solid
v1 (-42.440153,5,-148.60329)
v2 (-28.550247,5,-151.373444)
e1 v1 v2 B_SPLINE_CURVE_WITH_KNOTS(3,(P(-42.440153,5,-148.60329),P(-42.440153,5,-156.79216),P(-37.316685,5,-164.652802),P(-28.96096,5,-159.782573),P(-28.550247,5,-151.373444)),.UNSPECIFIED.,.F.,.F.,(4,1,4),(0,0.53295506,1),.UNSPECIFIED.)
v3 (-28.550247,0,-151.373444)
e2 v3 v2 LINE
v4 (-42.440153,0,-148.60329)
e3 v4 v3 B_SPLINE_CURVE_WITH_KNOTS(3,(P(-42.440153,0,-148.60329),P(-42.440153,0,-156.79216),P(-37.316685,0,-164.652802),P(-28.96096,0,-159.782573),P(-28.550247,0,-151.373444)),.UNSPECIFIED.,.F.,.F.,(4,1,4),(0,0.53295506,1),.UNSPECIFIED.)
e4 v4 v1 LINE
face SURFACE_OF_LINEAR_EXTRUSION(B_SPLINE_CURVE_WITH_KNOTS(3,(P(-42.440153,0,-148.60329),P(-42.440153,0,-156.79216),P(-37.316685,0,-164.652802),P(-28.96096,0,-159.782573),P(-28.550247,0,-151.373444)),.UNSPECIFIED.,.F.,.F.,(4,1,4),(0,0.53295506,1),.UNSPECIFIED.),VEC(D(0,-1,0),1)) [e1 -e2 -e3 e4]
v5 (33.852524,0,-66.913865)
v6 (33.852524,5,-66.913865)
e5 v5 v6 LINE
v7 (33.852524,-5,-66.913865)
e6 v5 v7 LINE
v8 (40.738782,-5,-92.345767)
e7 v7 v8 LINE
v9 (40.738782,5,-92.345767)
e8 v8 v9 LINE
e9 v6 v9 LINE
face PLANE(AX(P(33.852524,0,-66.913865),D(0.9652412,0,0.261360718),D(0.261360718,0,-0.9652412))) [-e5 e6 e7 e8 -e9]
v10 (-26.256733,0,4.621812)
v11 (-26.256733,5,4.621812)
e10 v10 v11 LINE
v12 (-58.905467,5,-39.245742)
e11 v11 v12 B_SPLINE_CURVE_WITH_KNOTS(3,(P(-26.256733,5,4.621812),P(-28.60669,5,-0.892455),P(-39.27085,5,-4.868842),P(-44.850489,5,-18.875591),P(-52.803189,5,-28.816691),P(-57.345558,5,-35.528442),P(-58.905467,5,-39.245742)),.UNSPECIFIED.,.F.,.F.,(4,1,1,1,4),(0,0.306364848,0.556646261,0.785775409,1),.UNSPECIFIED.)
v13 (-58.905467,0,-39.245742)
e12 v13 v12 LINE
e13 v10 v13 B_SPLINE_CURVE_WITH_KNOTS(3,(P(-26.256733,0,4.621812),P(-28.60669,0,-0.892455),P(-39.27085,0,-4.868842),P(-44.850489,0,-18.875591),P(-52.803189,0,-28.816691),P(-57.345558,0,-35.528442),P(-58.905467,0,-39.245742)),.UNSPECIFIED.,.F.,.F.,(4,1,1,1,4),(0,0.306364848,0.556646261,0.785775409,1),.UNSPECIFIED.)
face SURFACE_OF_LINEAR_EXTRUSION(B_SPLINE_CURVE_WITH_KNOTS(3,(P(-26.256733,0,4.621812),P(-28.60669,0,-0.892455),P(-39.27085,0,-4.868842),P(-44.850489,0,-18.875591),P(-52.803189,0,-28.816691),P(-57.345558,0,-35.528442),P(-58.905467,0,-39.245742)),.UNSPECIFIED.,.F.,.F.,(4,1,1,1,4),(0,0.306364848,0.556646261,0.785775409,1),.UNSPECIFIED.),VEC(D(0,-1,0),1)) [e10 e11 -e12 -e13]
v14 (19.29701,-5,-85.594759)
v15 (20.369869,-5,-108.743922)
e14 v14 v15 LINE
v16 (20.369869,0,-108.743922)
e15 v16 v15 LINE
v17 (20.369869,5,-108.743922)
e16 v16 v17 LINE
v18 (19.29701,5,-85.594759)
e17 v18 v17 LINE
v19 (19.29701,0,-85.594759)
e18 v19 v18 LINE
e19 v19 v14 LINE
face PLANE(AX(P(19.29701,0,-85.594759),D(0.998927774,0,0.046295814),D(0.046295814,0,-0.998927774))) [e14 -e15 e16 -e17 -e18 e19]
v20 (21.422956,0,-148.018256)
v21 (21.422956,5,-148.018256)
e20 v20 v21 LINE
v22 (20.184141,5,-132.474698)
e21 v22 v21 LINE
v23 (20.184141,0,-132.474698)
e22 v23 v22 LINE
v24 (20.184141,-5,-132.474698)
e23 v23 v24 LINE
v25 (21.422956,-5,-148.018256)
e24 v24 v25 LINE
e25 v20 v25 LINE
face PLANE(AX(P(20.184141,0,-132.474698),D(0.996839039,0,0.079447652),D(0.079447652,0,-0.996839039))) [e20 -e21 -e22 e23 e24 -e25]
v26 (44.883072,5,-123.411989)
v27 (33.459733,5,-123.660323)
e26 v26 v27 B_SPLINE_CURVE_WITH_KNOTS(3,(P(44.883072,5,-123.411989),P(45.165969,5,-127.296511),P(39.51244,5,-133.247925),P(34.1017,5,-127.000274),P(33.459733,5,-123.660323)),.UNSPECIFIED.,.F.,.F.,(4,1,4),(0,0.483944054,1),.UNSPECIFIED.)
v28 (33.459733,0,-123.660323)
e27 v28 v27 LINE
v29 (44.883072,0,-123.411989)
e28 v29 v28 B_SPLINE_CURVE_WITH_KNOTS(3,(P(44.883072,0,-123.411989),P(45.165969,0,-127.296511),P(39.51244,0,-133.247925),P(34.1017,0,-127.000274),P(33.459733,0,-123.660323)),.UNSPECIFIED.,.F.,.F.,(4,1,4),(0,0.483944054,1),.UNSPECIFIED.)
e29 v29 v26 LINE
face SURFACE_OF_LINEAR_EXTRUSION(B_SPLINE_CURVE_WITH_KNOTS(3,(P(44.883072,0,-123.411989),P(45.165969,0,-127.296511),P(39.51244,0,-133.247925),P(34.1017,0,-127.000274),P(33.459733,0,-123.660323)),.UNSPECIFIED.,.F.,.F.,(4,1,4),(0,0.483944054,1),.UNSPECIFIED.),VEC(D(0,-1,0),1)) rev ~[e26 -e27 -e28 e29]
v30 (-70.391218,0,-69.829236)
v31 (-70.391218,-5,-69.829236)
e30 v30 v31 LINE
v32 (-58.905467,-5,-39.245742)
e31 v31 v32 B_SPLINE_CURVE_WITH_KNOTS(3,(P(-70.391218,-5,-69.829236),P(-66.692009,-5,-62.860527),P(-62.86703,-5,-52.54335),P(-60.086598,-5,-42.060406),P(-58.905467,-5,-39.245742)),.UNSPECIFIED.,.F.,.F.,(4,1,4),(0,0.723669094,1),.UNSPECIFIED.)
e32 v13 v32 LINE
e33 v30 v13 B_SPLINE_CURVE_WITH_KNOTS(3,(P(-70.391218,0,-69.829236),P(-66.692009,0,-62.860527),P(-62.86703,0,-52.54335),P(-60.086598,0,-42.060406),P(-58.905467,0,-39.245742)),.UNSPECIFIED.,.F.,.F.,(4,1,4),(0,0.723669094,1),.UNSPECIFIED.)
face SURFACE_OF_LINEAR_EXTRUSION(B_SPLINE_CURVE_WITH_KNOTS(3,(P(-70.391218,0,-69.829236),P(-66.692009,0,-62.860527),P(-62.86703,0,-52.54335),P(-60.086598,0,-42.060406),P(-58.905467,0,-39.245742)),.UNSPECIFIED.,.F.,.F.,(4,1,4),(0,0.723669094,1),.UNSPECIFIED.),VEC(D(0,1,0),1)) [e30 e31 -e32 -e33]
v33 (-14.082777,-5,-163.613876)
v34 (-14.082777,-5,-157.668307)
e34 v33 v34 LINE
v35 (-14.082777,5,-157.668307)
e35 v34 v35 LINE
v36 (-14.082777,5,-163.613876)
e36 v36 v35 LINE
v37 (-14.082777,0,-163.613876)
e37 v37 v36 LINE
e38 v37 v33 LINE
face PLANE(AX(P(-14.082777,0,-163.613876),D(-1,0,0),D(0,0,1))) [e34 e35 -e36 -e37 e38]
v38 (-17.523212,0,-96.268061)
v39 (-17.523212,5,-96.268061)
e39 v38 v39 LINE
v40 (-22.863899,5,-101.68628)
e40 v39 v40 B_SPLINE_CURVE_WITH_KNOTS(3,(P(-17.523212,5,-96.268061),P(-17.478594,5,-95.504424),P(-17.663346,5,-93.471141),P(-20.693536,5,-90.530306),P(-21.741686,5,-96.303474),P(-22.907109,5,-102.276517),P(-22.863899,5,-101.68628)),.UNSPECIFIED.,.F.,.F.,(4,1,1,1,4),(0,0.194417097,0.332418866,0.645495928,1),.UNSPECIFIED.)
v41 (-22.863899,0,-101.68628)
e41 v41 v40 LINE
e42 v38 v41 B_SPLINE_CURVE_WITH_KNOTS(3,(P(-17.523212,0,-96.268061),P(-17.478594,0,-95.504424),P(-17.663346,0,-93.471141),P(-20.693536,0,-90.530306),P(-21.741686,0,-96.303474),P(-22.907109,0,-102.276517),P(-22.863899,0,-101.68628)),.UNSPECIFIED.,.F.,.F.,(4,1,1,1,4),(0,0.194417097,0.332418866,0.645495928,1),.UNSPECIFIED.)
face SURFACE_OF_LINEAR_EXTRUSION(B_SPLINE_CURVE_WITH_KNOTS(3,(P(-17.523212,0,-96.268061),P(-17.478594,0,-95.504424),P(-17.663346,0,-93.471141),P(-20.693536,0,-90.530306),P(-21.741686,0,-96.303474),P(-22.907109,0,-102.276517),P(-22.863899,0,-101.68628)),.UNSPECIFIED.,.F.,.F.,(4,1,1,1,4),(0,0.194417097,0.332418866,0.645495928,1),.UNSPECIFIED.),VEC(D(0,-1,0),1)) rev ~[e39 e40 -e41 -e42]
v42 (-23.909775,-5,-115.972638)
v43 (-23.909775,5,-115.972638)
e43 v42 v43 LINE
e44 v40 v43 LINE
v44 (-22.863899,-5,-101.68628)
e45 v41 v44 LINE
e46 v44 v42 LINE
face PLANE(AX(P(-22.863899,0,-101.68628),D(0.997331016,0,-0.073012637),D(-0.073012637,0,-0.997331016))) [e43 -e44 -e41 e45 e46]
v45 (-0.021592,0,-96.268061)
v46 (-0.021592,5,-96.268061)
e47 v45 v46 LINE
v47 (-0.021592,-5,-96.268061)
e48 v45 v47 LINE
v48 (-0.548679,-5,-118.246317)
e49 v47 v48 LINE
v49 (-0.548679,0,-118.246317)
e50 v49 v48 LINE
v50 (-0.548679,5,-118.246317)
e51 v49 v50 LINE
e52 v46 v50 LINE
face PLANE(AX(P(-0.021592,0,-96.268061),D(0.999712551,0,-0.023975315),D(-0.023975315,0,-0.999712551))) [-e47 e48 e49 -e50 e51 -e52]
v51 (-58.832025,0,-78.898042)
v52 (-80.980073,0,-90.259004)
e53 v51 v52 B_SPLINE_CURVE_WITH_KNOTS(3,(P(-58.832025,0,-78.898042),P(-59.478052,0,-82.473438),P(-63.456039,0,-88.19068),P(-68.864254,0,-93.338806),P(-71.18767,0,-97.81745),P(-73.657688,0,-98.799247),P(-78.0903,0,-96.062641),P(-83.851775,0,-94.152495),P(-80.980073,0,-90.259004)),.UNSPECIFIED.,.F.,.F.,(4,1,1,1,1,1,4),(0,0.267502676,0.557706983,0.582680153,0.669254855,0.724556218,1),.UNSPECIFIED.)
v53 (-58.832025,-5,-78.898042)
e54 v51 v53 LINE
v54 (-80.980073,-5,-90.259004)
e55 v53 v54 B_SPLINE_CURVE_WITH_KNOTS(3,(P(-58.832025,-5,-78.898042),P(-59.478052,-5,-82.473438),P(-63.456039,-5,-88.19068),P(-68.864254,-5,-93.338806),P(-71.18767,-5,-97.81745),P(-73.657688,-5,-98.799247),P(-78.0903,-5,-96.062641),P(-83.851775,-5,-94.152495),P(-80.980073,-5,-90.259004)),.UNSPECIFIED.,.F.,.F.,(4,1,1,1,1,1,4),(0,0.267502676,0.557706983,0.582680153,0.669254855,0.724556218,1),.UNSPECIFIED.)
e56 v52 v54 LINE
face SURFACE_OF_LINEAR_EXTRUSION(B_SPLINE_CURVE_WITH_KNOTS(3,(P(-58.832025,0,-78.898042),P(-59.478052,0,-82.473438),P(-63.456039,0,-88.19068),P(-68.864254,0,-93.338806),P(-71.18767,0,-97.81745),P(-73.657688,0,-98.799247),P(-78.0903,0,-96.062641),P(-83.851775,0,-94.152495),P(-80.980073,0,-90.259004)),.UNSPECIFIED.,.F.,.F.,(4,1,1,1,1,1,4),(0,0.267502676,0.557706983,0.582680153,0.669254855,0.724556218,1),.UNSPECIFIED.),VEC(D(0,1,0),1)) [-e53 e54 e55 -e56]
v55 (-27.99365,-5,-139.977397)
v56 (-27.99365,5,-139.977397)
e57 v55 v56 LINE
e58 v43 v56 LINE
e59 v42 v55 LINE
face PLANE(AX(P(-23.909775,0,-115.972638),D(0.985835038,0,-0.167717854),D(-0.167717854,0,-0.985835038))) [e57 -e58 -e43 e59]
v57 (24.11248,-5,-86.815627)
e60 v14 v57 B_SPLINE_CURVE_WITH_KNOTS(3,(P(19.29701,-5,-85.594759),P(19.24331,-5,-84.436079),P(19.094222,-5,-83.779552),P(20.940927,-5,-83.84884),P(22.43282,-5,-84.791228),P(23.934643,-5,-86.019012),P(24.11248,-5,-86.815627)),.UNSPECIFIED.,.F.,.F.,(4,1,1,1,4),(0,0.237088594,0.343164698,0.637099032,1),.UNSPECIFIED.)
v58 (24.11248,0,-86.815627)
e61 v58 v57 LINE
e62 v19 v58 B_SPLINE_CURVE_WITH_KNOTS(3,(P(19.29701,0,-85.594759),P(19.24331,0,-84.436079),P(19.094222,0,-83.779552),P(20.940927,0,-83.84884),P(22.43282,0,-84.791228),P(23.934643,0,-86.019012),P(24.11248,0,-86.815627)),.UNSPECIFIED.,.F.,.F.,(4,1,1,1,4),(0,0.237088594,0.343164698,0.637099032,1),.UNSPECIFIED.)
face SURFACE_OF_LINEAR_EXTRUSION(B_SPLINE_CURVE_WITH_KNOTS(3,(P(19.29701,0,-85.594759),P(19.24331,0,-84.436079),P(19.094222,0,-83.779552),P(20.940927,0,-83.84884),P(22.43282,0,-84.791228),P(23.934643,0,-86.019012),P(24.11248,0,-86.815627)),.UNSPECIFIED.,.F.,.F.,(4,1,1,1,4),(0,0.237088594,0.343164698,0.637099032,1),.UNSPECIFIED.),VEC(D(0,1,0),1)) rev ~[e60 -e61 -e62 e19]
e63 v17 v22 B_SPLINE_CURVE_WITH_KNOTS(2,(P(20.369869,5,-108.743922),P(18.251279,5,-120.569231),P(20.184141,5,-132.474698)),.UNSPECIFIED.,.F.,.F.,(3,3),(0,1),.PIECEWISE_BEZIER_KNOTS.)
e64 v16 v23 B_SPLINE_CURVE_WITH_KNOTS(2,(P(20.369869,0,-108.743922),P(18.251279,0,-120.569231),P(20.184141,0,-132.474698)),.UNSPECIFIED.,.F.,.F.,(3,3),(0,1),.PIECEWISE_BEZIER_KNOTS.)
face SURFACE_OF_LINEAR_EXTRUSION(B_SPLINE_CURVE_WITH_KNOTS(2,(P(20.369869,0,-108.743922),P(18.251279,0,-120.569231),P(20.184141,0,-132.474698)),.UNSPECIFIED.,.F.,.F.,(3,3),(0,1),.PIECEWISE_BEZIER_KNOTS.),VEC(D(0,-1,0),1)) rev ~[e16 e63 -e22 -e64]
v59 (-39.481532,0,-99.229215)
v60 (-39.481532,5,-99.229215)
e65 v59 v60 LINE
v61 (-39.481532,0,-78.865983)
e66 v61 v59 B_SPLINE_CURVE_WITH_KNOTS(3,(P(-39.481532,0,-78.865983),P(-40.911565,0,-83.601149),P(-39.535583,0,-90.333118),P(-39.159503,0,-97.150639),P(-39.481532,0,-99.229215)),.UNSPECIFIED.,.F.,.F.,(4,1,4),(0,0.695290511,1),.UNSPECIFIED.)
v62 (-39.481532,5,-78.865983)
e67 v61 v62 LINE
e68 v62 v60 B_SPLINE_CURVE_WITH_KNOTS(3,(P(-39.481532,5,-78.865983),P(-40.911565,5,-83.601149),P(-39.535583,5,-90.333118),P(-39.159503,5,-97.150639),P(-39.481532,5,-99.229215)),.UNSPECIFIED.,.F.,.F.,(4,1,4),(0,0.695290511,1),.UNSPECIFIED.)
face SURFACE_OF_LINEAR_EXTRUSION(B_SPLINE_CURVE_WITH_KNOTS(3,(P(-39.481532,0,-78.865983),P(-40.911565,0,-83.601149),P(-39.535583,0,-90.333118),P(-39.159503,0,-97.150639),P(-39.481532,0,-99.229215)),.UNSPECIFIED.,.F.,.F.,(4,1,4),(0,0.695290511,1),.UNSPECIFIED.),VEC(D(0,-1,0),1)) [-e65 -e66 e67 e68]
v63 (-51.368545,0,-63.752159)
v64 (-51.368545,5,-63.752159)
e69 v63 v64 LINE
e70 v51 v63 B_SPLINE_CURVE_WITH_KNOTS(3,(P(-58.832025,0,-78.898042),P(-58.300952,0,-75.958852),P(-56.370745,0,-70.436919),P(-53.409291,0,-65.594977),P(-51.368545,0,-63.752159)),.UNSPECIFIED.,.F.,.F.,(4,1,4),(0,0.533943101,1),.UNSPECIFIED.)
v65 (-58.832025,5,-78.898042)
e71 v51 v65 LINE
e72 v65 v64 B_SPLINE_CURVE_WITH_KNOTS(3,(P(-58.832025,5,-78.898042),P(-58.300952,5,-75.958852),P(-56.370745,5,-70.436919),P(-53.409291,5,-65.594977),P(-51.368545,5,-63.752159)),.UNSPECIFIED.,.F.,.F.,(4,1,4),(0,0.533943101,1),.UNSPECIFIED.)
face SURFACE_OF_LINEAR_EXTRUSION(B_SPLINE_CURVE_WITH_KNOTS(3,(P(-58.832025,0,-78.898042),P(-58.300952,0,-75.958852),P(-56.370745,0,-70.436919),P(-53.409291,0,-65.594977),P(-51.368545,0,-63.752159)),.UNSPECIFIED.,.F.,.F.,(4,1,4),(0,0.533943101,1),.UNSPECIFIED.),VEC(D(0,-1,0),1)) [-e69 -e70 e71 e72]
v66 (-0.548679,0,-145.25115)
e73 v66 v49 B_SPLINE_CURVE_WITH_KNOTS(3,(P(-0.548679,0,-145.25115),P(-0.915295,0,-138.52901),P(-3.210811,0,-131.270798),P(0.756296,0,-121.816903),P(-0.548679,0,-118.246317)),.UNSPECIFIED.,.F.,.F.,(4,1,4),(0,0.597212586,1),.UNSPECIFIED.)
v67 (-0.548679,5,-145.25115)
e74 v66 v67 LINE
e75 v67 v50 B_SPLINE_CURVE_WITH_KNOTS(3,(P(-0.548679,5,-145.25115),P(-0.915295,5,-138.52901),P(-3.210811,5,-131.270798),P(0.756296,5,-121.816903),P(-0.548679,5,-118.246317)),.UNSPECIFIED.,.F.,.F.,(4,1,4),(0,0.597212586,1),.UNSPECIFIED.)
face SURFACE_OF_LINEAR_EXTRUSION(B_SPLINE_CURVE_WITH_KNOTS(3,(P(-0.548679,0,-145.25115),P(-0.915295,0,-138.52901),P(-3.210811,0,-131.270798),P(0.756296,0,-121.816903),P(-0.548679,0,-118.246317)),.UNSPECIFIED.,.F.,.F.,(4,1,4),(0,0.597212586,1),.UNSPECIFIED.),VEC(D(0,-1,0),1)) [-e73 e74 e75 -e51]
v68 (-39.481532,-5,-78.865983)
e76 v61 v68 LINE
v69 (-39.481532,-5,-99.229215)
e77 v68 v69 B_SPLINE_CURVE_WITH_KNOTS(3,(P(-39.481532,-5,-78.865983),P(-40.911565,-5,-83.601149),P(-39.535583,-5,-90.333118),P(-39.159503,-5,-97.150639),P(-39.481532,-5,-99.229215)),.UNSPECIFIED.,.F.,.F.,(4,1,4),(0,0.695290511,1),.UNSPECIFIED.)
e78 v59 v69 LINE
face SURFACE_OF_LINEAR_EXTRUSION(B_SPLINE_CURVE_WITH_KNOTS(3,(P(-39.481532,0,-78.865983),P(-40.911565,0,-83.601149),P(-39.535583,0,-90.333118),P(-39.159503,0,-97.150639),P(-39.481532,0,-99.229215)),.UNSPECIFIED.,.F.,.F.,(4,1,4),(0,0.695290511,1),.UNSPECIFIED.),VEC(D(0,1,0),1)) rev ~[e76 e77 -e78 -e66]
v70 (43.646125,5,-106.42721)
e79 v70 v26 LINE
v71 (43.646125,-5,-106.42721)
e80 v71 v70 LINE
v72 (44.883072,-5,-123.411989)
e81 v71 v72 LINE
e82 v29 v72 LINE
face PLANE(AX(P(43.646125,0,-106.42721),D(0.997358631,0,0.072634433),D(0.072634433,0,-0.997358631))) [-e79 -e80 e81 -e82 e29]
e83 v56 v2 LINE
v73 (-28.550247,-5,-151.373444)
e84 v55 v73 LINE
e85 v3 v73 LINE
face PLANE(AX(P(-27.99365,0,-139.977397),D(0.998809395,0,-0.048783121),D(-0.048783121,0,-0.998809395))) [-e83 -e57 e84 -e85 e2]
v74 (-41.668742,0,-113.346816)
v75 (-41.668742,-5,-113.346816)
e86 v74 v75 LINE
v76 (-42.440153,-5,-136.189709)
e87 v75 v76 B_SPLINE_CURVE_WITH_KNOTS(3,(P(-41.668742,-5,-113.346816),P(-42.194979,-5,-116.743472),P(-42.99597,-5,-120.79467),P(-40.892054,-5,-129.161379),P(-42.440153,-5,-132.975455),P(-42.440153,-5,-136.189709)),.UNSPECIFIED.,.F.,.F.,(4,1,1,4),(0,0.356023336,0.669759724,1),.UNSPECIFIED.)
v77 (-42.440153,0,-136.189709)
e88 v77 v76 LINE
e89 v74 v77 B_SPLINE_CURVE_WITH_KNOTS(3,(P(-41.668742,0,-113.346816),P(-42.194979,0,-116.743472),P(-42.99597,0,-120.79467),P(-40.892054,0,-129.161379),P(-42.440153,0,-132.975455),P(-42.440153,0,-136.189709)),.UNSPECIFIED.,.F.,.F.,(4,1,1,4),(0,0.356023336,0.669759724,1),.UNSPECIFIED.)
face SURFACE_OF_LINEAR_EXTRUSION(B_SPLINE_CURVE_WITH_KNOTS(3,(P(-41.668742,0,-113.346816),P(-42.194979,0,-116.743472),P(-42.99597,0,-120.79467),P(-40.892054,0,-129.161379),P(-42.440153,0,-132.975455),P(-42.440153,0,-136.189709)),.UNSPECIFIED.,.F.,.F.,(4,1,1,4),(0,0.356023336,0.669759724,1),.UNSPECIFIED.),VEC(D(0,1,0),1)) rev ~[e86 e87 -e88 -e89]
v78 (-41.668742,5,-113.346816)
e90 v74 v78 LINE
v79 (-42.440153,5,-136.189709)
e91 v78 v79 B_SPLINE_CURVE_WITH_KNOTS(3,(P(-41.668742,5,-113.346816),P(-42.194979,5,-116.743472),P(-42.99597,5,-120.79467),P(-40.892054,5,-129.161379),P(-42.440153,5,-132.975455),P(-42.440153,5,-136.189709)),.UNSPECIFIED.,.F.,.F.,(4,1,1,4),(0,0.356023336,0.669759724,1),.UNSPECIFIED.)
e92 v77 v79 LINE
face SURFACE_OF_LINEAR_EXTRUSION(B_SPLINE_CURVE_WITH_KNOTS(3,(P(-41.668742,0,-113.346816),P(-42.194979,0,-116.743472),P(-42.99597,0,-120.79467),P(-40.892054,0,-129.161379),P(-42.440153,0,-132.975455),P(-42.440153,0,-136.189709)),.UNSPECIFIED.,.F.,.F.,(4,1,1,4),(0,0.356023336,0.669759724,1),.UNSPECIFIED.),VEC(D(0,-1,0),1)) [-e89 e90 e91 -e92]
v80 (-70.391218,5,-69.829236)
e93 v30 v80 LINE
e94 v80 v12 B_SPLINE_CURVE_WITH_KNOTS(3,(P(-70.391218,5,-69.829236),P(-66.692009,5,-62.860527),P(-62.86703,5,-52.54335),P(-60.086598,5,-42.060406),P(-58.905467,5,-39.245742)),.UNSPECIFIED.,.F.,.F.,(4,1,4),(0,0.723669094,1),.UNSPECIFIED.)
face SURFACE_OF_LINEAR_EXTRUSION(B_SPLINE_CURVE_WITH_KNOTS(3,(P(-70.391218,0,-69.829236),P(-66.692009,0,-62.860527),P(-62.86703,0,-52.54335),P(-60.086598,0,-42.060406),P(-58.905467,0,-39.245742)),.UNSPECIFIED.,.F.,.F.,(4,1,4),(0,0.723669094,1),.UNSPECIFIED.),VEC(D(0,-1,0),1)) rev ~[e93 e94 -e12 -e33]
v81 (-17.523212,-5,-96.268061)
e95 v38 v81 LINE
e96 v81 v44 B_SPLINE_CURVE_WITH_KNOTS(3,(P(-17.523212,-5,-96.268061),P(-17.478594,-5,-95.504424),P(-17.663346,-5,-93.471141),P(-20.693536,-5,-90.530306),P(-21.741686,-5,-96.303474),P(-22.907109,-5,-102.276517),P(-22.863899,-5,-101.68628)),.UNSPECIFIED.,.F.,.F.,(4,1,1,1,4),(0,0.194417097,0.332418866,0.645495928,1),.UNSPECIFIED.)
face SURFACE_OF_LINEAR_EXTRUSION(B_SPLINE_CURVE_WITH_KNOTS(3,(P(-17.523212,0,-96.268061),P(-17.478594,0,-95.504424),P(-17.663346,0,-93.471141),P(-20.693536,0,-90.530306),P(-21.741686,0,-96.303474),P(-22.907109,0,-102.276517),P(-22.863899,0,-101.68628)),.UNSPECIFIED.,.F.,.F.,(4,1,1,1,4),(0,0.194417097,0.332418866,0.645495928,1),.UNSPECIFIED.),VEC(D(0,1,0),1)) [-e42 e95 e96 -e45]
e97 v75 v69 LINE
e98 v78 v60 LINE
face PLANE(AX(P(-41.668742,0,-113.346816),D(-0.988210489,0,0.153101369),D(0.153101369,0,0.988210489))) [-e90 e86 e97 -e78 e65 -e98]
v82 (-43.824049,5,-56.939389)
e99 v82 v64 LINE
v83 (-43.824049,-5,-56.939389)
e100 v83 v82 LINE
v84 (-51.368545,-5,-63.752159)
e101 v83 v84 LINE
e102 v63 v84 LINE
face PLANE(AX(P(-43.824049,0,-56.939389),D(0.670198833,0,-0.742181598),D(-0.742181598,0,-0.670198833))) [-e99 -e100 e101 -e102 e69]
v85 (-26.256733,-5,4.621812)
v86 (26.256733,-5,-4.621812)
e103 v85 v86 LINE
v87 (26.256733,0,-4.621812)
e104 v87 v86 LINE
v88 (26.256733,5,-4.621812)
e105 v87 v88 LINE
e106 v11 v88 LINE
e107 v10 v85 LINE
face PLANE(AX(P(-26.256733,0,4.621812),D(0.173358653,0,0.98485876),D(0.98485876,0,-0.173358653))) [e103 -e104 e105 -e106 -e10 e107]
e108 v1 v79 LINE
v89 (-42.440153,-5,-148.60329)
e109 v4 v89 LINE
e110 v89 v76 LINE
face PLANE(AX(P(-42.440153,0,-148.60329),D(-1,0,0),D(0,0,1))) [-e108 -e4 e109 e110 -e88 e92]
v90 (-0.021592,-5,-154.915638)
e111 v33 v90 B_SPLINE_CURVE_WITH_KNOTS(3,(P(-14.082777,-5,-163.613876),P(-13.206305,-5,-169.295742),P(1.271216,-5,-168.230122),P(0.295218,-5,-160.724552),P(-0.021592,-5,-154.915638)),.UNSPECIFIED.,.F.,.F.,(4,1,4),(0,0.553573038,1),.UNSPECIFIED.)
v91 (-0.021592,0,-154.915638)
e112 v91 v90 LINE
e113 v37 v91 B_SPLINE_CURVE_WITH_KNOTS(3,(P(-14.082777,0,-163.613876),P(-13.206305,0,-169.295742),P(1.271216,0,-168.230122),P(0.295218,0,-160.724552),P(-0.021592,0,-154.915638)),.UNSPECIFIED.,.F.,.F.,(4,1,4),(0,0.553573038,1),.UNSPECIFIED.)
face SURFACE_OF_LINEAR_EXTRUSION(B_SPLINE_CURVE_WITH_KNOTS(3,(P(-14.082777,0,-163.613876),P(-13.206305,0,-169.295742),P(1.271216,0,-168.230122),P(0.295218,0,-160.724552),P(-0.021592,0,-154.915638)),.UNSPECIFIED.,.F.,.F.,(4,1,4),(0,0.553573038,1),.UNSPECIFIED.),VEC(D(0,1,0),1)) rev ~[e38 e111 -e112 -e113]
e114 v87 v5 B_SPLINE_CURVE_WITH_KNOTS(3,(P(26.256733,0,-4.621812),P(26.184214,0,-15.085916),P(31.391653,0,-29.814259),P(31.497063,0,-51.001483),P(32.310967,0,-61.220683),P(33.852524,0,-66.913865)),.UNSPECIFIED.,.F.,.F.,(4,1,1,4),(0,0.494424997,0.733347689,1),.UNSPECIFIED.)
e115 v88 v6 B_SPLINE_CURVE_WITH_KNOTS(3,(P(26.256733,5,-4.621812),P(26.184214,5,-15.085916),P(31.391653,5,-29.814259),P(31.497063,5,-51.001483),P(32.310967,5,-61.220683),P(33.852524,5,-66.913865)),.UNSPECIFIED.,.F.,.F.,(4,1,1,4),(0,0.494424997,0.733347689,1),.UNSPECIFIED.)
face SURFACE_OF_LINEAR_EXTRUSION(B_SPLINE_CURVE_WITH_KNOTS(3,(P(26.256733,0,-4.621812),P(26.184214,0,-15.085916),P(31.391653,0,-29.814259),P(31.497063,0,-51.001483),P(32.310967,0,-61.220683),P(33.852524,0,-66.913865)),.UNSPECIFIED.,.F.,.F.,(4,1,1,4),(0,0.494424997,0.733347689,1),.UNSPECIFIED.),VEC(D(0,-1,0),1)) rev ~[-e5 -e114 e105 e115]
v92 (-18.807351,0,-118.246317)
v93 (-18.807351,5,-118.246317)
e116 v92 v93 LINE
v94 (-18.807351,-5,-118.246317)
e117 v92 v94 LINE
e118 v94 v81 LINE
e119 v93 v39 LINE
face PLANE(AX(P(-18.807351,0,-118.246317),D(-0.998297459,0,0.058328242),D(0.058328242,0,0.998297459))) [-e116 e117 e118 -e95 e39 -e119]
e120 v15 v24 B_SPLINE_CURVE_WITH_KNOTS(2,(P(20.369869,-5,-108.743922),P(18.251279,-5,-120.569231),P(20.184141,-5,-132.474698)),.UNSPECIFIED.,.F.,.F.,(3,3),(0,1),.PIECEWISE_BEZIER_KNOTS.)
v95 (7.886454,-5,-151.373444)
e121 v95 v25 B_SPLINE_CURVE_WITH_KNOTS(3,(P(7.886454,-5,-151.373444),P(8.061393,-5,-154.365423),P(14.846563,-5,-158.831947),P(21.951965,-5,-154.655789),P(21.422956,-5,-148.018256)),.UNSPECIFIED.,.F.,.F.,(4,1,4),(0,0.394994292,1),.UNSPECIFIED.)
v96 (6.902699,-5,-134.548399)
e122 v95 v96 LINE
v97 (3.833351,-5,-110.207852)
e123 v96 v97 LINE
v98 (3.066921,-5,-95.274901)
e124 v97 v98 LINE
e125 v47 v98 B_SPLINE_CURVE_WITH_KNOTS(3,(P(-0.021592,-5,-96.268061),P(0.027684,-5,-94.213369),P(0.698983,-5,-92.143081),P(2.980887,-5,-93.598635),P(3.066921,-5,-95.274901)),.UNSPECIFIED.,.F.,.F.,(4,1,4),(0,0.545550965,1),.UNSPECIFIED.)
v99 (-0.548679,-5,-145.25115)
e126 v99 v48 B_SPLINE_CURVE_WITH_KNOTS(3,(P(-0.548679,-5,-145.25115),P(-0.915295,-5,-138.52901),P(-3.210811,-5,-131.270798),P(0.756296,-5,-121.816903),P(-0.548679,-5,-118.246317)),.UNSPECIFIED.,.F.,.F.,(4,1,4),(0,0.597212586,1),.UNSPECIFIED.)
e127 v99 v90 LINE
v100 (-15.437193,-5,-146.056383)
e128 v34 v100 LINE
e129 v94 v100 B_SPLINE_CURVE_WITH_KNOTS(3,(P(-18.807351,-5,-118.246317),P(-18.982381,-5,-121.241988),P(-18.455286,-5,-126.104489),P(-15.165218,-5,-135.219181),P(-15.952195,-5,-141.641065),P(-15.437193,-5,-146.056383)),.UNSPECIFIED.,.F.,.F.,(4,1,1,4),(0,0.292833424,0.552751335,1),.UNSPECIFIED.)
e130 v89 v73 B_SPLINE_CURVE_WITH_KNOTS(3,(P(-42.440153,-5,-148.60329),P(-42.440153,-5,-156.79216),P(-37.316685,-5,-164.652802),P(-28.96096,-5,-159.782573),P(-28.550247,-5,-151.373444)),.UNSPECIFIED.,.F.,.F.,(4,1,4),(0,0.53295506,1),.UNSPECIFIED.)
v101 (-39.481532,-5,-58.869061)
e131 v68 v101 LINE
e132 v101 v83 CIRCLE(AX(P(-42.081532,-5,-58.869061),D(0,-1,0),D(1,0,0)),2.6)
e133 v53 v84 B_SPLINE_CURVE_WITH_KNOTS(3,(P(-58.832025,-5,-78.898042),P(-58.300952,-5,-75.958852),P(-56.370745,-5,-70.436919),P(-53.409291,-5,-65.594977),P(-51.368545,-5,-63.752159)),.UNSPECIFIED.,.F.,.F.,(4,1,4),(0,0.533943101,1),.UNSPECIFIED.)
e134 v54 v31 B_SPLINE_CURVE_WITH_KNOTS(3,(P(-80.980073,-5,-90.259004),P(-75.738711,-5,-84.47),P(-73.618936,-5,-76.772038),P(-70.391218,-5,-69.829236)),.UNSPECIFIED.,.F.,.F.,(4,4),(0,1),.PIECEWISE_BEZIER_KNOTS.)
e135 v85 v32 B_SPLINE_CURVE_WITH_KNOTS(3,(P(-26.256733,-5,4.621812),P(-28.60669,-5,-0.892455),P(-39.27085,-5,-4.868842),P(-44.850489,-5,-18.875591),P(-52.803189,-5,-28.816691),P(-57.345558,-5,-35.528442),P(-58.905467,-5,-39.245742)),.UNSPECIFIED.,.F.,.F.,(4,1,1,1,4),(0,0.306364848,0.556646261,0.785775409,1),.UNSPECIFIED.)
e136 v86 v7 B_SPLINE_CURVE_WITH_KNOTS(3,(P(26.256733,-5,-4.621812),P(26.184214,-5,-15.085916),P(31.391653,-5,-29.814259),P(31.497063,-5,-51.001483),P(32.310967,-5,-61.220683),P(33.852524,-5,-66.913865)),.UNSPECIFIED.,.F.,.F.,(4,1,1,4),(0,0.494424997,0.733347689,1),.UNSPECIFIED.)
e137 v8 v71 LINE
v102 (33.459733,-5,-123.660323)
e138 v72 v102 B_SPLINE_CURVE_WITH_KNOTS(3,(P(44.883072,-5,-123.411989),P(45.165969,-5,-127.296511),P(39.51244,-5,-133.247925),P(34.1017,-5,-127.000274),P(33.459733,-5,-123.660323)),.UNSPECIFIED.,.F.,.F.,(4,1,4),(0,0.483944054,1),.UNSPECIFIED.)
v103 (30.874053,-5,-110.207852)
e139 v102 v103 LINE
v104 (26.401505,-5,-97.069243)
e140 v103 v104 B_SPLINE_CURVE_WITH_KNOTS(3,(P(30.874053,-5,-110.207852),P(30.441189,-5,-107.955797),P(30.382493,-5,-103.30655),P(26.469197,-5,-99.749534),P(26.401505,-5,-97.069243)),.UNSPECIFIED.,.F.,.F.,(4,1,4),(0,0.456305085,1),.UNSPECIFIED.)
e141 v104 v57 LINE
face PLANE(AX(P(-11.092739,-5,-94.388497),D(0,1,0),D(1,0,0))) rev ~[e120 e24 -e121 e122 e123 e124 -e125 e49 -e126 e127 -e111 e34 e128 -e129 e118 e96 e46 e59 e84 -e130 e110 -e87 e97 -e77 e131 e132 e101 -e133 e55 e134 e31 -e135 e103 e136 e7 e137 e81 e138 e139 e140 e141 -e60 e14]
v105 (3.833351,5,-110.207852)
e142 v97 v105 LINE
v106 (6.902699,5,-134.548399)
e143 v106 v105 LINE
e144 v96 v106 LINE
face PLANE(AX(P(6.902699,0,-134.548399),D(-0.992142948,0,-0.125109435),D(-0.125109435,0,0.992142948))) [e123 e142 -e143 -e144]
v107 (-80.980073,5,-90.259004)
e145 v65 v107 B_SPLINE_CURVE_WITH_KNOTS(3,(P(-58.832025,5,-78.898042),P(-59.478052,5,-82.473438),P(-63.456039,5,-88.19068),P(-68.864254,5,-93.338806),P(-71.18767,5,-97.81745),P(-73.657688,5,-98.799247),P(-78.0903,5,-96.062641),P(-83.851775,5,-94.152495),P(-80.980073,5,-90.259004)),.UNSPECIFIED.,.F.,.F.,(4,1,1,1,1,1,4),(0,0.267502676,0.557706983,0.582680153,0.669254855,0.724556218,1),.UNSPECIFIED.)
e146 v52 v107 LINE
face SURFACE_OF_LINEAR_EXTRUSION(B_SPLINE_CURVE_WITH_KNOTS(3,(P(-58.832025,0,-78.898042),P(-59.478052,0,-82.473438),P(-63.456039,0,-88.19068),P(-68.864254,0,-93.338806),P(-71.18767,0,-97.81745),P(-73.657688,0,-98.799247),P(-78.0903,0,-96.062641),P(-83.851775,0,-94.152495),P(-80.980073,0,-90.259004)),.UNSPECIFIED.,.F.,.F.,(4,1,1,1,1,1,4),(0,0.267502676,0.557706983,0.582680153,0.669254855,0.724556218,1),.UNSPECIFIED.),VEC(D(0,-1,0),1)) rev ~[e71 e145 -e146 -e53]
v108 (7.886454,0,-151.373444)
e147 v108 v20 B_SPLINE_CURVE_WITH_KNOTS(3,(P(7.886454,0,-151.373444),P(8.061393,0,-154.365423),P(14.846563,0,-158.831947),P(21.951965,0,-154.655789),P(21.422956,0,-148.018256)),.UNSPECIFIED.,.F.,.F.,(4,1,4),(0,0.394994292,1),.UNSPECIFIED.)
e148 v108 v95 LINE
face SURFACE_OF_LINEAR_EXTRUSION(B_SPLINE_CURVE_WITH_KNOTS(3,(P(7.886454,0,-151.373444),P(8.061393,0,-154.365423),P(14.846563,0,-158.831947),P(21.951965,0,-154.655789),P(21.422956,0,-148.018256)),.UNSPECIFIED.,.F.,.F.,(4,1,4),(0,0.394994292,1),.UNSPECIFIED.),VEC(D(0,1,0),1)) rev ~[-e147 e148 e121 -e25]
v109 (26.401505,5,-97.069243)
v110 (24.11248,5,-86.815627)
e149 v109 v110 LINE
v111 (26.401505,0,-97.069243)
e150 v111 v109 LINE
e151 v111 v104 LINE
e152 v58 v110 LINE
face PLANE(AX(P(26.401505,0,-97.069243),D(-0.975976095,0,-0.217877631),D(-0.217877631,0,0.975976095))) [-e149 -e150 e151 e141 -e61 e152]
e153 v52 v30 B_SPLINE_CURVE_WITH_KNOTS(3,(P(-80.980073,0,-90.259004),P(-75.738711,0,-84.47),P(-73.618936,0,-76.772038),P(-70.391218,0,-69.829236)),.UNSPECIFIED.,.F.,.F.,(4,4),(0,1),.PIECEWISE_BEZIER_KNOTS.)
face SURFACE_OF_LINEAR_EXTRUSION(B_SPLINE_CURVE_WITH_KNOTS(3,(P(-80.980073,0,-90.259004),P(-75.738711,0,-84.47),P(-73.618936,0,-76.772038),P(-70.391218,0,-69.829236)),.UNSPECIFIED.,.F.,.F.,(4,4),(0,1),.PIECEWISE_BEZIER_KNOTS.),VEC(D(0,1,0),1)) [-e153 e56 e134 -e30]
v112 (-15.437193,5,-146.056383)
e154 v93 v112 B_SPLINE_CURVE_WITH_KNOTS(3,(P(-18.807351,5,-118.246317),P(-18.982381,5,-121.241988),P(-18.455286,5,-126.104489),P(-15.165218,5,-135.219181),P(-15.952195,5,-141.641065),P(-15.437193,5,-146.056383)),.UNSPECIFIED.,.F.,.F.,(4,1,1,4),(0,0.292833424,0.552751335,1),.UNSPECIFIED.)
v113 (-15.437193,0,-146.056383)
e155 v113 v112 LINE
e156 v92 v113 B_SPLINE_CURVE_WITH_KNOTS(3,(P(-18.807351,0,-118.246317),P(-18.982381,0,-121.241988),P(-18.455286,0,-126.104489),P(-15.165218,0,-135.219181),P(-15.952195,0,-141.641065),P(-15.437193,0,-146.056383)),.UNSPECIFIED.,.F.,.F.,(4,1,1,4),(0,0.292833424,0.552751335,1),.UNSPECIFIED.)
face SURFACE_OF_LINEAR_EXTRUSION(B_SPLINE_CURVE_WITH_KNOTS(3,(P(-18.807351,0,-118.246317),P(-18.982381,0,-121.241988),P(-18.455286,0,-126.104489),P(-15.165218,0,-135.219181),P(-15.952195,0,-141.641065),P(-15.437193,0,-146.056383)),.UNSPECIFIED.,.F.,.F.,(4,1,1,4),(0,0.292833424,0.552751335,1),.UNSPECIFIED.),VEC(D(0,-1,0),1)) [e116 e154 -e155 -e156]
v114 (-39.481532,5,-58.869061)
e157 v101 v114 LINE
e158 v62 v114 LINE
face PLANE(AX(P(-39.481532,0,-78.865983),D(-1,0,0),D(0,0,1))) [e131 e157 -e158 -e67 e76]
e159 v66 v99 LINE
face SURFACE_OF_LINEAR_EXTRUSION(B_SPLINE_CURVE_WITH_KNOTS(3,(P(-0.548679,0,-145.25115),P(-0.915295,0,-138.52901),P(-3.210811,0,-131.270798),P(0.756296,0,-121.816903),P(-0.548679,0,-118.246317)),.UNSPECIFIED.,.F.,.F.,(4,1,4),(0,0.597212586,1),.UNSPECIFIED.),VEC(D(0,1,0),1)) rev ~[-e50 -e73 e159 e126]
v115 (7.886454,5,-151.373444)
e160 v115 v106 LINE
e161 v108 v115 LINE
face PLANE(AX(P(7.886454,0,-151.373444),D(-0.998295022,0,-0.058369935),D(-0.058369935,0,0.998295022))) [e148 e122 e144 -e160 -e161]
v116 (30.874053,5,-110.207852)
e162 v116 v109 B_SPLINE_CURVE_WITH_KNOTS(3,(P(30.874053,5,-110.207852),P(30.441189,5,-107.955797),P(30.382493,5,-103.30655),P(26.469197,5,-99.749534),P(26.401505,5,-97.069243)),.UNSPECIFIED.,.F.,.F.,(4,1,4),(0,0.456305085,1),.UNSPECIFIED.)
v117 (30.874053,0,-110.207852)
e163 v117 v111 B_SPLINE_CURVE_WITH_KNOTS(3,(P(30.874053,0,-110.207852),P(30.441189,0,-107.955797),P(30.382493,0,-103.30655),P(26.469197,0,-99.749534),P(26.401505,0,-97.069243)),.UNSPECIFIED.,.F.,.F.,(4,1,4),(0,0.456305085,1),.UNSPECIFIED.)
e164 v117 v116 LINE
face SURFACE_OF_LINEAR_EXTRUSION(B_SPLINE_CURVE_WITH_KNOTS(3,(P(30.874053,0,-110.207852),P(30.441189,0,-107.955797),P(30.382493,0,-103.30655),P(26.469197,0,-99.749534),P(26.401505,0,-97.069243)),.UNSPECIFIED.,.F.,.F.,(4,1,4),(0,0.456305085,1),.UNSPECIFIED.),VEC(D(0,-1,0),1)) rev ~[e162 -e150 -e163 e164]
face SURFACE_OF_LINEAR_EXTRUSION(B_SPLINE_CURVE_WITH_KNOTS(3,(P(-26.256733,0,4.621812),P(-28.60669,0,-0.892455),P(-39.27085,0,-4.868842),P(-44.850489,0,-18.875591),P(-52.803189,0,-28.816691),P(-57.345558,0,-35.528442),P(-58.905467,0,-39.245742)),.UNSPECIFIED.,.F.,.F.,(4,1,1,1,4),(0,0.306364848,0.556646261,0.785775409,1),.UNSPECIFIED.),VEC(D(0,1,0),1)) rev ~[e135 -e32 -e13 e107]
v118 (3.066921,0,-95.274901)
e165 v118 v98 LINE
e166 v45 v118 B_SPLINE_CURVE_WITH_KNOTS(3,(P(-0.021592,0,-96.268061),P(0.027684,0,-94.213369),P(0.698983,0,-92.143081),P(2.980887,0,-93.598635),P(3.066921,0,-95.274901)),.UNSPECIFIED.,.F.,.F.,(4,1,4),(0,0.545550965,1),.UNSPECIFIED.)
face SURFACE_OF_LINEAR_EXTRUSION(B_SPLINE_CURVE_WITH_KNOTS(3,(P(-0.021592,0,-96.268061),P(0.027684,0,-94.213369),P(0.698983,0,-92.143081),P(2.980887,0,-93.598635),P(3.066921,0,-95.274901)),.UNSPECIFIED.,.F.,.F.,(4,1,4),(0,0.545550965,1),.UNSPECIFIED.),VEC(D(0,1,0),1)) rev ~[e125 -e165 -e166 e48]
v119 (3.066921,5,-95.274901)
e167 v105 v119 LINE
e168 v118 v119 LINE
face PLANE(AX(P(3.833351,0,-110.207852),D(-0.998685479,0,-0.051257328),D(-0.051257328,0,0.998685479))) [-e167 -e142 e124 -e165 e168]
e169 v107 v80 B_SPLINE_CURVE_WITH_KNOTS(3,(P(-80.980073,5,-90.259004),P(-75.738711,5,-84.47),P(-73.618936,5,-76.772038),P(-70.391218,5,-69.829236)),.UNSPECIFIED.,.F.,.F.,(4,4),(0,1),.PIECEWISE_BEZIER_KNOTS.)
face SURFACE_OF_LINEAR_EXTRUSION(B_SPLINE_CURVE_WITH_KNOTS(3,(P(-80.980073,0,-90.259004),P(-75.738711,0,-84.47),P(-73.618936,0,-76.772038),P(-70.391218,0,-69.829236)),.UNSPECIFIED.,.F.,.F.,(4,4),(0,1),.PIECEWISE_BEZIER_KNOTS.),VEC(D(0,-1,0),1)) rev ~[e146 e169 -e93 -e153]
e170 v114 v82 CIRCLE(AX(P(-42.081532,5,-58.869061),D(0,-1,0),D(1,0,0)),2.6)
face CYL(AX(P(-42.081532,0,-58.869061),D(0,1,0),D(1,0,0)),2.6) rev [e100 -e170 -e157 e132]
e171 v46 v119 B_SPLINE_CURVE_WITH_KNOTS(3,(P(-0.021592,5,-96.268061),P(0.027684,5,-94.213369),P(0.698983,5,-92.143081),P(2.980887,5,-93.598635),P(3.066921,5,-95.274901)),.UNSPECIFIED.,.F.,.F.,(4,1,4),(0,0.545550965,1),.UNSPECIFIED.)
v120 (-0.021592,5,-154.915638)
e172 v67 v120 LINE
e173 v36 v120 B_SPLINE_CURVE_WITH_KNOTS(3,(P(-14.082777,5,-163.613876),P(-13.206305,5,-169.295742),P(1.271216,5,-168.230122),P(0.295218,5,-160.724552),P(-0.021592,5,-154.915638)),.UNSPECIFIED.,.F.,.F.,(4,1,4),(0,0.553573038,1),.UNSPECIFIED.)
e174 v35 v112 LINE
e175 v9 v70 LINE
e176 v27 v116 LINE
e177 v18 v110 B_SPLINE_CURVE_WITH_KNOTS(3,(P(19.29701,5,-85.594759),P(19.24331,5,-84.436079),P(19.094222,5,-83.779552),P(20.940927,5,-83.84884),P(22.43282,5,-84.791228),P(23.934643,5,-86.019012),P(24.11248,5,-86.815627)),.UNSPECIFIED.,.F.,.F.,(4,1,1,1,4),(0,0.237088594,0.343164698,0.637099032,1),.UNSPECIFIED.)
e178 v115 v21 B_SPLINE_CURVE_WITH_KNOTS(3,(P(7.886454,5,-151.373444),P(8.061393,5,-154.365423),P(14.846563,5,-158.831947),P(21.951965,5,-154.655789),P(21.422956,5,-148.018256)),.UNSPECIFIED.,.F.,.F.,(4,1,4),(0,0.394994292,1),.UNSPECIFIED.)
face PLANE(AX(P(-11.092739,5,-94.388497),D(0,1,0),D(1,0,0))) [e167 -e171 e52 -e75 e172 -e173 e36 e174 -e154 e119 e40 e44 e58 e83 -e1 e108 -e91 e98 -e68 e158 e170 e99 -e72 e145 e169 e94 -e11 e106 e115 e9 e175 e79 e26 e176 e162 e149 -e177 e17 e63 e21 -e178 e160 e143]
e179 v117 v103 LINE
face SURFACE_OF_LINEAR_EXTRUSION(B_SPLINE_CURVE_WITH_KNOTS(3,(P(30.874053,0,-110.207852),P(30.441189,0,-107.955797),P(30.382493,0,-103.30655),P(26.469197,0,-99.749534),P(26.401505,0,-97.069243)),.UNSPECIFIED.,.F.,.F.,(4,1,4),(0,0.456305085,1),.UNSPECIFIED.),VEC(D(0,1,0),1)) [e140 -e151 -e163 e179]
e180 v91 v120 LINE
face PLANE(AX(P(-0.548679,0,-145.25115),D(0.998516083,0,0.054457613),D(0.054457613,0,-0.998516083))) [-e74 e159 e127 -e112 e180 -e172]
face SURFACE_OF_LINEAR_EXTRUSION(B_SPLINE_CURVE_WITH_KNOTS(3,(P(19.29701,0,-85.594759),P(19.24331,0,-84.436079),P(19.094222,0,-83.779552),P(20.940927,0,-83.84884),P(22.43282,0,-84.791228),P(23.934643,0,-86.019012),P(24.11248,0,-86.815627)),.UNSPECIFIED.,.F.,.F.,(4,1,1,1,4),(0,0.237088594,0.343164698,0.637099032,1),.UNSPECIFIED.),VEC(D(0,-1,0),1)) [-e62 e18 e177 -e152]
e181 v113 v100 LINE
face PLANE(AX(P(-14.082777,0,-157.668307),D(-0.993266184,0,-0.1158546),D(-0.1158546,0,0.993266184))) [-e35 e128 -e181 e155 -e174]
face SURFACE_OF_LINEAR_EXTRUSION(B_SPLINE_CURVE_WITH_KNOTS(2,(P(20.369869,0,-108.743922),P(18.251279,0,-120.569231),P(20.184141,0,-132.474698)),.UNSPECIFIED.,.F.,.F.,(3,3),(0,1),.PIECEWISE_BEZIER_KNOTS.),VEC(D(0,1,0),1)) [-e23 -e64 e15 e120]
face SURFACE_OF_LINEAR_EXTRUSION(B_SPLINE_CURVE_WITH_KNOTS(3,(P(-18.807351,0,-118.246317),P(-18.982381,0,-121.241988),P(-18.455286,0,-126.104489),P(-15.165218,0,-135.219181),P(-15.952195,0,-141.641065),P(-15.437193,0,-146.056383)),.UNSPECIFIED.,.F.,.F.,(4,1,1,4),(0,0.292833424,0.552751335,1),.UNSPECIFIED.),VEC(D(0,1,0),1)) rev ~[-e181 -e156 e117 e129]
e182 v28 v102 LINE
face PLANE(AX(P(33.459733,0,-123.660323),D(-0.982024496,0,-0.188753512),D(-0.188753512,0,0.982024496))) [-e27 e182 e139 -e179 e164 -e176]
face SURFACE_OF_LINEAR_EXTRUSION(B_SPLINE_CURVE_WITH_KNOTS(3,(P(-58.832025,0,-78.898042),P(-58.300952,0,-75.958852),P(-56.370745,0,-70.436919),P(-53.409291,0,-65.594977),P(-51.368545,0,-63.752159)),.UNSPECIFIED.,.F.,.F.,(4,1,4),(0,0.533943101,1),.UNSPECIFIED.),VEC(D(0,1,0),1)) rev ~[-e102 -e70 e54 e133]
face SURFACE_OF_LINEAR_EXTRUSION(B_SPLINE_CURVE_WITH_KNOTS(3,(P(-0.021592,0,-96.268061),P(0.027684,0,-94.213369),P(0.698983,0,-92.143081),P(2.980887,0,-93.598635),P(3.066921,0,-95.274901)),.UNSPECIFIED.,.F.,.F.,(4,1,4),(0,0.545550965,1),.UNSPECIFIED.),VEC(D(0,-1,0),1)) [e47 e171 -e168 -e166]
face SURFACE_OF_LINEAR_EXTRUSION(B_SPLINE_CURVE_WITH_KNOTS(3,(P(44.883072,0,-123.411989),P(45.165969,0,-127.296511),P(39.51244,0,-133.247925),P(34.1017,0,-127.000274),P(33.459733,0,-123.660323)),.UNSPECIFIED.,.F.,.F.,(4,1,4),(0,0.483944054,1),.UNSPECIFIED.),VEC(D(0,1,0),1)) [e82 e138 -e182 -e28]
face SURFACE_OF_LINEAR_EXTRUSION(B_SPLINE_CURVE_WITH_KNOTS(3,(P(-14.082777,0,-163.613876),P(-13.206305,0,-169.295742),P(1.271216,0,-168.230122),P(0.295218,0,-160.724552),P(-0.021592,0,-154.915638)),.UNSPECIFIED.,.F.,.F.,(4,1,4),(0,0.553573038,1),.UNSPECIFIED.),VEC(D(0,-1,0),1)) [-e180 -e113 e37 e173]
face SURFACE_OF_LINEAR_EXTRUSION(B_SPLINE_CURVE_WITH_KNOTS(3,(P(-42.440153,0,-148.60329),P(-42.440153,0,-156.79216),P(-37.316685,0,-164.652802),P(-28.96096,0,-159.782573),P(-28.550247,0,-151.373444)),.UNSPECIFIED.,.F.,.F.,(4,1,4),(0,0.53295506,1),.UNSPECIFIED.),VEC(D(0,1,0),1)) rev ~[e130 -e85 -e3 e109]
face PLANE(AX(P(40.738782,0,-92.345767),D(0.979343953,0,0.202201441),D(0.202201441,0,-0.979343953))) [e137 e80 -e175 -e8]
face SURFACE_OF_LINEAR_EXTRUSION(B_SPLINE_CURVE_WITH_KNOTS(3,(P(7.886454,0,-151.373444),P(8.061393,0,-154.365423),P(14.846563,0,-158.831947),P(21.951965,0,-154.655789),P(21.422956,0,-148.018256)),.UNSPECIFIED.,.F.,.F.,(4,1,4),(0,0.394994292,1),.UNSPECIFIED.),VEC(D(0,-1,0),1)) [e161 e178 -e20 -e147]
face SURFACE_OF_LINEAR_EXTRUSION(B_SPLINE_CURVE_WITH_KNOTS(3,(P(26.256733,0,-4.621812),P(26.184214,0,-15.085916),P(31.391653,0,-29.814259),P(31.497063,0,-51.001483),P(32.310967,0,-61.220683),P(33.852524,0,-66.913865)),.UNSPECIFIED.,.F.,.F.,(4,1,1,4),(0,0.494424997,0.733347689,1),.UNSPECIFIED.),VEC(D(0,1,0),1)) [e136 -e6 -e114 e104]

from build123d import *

# Parameters (mm, degrees)
BOSS_EXTRUDE1_DEPTH = 5


with BuildPart() as part:
    # Sketch2 → Boss-Extrude1 (new, symmetric)
    with BuildSketch(Plane(origin=(0, 0, 0), x_dir=(1, 0, 0), z_dir=(0, 1, 0))):
        with BuildLine():
            Line((-26.256733318, -4.621811883), (26.256733318, 4.621811883))
            add(Edge.make_bspline(
                [(26.256733318, 4.621811883), (26.184213815, 15.085916031), (31.39165321, 29.814258677), (31.49706253, 51.001483219), (32.310967161, 61.220682563), (33.852524137, 66.913865214)],
                knots=[0, 0, 0, 0, 0.494424997, 0.733347689, 1, 1, 1, 1], degree=3))
            Line((33.852524137, 66.913865214), (40.738782221, 92.345766637))
            Line((40.738782221, 92.345766637), (43.646124542, 106.427209936))
            Line((43.646124542, 106.427209936), (44.883071586, 123.411989276))
            add(Edge.make_bspline(
                [(44.883071586, 123.411989276), (45.165968858, 127.296511075), (39.51243958, 133.247924763), (34.10170013, 127.000274405), (33.459732834, 123.660322727)],
                knots=[0, 0, 0, 0, 0.483944054, 1, 1, 1, 1], degree=3))
            Line((33.459732834, 123.660322727), (30.874052834, 110.20785199))
            add(Edge.make_bspline(
                [(30.874052834, 110.20785199), (30.441188575, 107.955796914), (30.382492539, 103.306549634), (26.469197062, 99.749533646), (26.401505216, 97.069243348)],
                knots=[0, 0, 0, 0, 0.456305085, 1, 1, 1, 1], degree=3))
            Line((26.401505216, 97.069243348), (24.112480314, 86.815627265))
            add(Edge.make_bspline(
                [(19.297009656, 85.594758963), (19.243310028, 84.436078608), (19.094221788, 83.779551656), (20.94092685, 83.84883977), (22.432820011, 84.791228368), (23.934643349, 86.019012094), (24.112480314, 86.815627265)],
                knots=[0, 0, 0, 0, 0.237088594, 0.343164698, 0.637099032, 1, 1, 1, 1], degree=3))
            Line((19.297009656, 85.594758963), (20.36986935, 108.743922061))
            add(Edge.make_bspline(
                [(20.36986935, 108.743922061), (18.251278635, 120.569230524), (20.184141466, 132.474697955)],
                knots=[0, 0, 0, 1, 1, 1], degree=2))
            Line((20.184141466, 132.474697955), (21.422956498, 148.01825596))
            add(Edge.make_bspline(
                [(7.886453521, 151.373444104), (8.061393397, 154.365422898), (14.846563419, 158.831947186), (21.951965108, 154.65578924), (21.422956498, 148.01825596)],
                knots=[0, 0, 0, 0, 0.394994292, 1, 1, 1, 1], degree=3))
            Line((7.886453521, 151.373444104), (6.902699472, 134.548399342))
            Line((6.902699472, 134.548399342), (3.833351323, 110.20785199))
            Line((3.833351323, 110.20785199), (3.066920681, 95.274901286))
            add(Edge.make_bspline(
                [(-0.02159186, 96.268060872), (0.027684192, 94.213368932), (0.698982676, 92.143081029), (2.980886645, 93.598634774), (3.066920681, 95.274901286)],
                knots=[0, 0, 0, 0, 0.545550965, 1, 1, 1, 1], degree=3))
            Line((-0.02159186, 96.268060872), (-0.548678979, 118.246316572))
            add(Edge.make_bspline(
                [(-0.548678979, 145.251149648), (-0.915294678, 138.529010173), (-3.210810949, 131.270798089), (0.756296252, 121.816903372), (-0.548678979, 118.246316572)],
                knots=[0, 0, 0, 0, 0.597212586, 1, 1, 1, 1], degree=3))
            Line((-0.548678979, 145.251149648), (-0.02159186, 154.915637957))
            add(Edge.make_bspline(
                [(-14.082777353, 163.613875502), (-13.206305071, 169.295741696), (1.271215934, 168.230121804), (0.295217837, 160.724551686), (-0.02159186, 154.915637957)],
                knots=[0, 0, 0, 0, 0.553573038, 1, 1, 1, 1], degree=3))
            Line((-14.082777353, 163.613875502), (-14.082777353, 157.668307031))
            Line((-14.082777353, 157.668307031), (-15.437192564, 146.056382878))
            add(Edge.make_bspline(
                [(-18.807351222, 118.246316572), (-18.982381461, 121.2419879), (-18.455286153, 126.104488932), (-15.165218042, 135.219180874), (-15.95219543, 141.641064615), (-15.437192564, 146.056382878)],
                knots=[0, 0, 0, 0, 0.292833424, 0.552751335, 1, 1, 1, 1], degree=3))
            Line((-18.807351222, 118.246316572), (-17.5232119, 96.268060872))
            add(Edge.make_bspline(
                [(-17.5232119, 96.268060872), (-17.478594365, 95.504424428), (-17.663345633, 93.471140535), (-20.69353647, 90.530305698), (-21.741686411, 96.30347421), (-22.907109211, 102.276516742), (-22.86389916, 101.686280236)],
                knots=[0, 0, 0, 0, 0.194417097, 0.332418866, 0.645495928, 1, 1, 1, 1], degree=3))
            Line((-22.86389916, 101.686280236), (-23.90977525, 115.972638208))
            Line((-23.90977525, 115.972638208), (-27.993649806, 139.977396961))
            Line((-27.993649806, 139.977396961), (-28.550247244, 151.373444104))
            add(Edge.make_bspline(
                [(-42.440153209, 148.603290137), (-42.440153209, 156.79216036), (-37.316684629, 164.65280226), (-28.960959781, 159.782572709), (-28.550247244, 151.373444104)],
                knots=[0, 0, 0, 0, 0.53295506, 1, 1, 1, 1], degree=3))
            Line((-42.440153209, 148.603290137), (-42.440153209, 136.189708956))
            add(Edge.make_bspline(
                [(-41.668742375, 113.346816451), (-42.19497911, 116.743472309), (-42.99597028, 120.794670458), (-40.892054429, 129.161378833), (-42.440153209, 132.975454736), (-42.440153209, 136.189708956)],
                knots=[0, 0, 0, 0, 0.356023336, 0.669759724, 1, 1, 1, 1], degree=3))
            Line((-41.668742375, 113.346816451), (-39.481532119, 99.229214921))
            add(Edge.make_bspline(
                [(-39.481532119, 78.865982655), (-40.911565275, 83.601148767), (-39.535583433, 90.33311796), (-39.159502682, 97.150638681), (-39.481532119, 99.229214921)],
                knots=[0, 0, 0, 0, 0.695290511, 1, 1, 1, 1], degree=3))
            Line((-39.481532119, 78.865982655), (-39.481532119, 58.869061477))
            ThreePointArc((-39.481532119, 58.869061477), (-41.025725344, 56.493083351), (-43.824049084, 56.939389322))
            Line((-43.824049084, 56.939389322), (-51.36854474, 63.752158858))
            add(Edge.make_bspline(
                [(-58.832024896, 78.898041634), (-58.300951882, 75.958851634), (-56.370745123, 70.436918613), (-53.409290505, 65.594976618), (-51.36854474, 63.752158858)],
                knots=[0, 0, 0, 0, 0.533943101, 1, 1, 1, 1], degree=3))
            add(Edge.make_bspline(
                [(-58.832024896, 78.898041634), (-59.478052008, 82.473437818), (-63.45603922, 88.190679665), (-68.86425409, 93.338806019), (-71.187669739, 97.817450241), (-73.65768789, 98.799246852), (-78.090300121, 96.062640584), (-83.851775402, 94.152494508), (-80.98007287, 90.259003836)],
                knots=[0, 0, 0, 0, 0.267502676, 0.557706983, 0.582680153, 0.669254855, 0.724556218, 1, 1, 1, 1], degree=3))
            add(Edge.make_bspline(
                [(-80.98007287, 90.259003836), (-75.738710871, 84.470000229), (-73.6189357, 76.77203837), (-70.391217911, 69.829235803)],
                knots=[0, 0, 0, 0, 1, 1, 1, 1], degree=3))
            add(Edge.make_bspline(
                [(-70.391217911, 69.829235803), (-66.692008689, 62.860526967), (-62.867029651, 52.543349529), (-60.086598326, 42.060405741), (-58.905467069, 39.24574179)],
                knots=[0, 0, 0, 0, 0.723669094, 1, 1, 1, 1], degree=3))
            add(Edge.make_bspline(
                [(-26.256733318, -4.621811883), (-28.60669032, 0.892454726), (-39.270850453, 4.868841767), (-44.850488779, 18.875590893), (-52.803189433, 28.816690746), (-57.345558393, 35.528442216), (-58.905467069, 39.24574179)],
                knots=[0, 0, 0, 0, 0.306364848, 0.556646261, 0.785775409, 1, 1, 1, 1], degree=3))
        make_face()
    extrude(amount=BOSS_EXTRUDE1_DEPTH, both=True)


solid = part.part
